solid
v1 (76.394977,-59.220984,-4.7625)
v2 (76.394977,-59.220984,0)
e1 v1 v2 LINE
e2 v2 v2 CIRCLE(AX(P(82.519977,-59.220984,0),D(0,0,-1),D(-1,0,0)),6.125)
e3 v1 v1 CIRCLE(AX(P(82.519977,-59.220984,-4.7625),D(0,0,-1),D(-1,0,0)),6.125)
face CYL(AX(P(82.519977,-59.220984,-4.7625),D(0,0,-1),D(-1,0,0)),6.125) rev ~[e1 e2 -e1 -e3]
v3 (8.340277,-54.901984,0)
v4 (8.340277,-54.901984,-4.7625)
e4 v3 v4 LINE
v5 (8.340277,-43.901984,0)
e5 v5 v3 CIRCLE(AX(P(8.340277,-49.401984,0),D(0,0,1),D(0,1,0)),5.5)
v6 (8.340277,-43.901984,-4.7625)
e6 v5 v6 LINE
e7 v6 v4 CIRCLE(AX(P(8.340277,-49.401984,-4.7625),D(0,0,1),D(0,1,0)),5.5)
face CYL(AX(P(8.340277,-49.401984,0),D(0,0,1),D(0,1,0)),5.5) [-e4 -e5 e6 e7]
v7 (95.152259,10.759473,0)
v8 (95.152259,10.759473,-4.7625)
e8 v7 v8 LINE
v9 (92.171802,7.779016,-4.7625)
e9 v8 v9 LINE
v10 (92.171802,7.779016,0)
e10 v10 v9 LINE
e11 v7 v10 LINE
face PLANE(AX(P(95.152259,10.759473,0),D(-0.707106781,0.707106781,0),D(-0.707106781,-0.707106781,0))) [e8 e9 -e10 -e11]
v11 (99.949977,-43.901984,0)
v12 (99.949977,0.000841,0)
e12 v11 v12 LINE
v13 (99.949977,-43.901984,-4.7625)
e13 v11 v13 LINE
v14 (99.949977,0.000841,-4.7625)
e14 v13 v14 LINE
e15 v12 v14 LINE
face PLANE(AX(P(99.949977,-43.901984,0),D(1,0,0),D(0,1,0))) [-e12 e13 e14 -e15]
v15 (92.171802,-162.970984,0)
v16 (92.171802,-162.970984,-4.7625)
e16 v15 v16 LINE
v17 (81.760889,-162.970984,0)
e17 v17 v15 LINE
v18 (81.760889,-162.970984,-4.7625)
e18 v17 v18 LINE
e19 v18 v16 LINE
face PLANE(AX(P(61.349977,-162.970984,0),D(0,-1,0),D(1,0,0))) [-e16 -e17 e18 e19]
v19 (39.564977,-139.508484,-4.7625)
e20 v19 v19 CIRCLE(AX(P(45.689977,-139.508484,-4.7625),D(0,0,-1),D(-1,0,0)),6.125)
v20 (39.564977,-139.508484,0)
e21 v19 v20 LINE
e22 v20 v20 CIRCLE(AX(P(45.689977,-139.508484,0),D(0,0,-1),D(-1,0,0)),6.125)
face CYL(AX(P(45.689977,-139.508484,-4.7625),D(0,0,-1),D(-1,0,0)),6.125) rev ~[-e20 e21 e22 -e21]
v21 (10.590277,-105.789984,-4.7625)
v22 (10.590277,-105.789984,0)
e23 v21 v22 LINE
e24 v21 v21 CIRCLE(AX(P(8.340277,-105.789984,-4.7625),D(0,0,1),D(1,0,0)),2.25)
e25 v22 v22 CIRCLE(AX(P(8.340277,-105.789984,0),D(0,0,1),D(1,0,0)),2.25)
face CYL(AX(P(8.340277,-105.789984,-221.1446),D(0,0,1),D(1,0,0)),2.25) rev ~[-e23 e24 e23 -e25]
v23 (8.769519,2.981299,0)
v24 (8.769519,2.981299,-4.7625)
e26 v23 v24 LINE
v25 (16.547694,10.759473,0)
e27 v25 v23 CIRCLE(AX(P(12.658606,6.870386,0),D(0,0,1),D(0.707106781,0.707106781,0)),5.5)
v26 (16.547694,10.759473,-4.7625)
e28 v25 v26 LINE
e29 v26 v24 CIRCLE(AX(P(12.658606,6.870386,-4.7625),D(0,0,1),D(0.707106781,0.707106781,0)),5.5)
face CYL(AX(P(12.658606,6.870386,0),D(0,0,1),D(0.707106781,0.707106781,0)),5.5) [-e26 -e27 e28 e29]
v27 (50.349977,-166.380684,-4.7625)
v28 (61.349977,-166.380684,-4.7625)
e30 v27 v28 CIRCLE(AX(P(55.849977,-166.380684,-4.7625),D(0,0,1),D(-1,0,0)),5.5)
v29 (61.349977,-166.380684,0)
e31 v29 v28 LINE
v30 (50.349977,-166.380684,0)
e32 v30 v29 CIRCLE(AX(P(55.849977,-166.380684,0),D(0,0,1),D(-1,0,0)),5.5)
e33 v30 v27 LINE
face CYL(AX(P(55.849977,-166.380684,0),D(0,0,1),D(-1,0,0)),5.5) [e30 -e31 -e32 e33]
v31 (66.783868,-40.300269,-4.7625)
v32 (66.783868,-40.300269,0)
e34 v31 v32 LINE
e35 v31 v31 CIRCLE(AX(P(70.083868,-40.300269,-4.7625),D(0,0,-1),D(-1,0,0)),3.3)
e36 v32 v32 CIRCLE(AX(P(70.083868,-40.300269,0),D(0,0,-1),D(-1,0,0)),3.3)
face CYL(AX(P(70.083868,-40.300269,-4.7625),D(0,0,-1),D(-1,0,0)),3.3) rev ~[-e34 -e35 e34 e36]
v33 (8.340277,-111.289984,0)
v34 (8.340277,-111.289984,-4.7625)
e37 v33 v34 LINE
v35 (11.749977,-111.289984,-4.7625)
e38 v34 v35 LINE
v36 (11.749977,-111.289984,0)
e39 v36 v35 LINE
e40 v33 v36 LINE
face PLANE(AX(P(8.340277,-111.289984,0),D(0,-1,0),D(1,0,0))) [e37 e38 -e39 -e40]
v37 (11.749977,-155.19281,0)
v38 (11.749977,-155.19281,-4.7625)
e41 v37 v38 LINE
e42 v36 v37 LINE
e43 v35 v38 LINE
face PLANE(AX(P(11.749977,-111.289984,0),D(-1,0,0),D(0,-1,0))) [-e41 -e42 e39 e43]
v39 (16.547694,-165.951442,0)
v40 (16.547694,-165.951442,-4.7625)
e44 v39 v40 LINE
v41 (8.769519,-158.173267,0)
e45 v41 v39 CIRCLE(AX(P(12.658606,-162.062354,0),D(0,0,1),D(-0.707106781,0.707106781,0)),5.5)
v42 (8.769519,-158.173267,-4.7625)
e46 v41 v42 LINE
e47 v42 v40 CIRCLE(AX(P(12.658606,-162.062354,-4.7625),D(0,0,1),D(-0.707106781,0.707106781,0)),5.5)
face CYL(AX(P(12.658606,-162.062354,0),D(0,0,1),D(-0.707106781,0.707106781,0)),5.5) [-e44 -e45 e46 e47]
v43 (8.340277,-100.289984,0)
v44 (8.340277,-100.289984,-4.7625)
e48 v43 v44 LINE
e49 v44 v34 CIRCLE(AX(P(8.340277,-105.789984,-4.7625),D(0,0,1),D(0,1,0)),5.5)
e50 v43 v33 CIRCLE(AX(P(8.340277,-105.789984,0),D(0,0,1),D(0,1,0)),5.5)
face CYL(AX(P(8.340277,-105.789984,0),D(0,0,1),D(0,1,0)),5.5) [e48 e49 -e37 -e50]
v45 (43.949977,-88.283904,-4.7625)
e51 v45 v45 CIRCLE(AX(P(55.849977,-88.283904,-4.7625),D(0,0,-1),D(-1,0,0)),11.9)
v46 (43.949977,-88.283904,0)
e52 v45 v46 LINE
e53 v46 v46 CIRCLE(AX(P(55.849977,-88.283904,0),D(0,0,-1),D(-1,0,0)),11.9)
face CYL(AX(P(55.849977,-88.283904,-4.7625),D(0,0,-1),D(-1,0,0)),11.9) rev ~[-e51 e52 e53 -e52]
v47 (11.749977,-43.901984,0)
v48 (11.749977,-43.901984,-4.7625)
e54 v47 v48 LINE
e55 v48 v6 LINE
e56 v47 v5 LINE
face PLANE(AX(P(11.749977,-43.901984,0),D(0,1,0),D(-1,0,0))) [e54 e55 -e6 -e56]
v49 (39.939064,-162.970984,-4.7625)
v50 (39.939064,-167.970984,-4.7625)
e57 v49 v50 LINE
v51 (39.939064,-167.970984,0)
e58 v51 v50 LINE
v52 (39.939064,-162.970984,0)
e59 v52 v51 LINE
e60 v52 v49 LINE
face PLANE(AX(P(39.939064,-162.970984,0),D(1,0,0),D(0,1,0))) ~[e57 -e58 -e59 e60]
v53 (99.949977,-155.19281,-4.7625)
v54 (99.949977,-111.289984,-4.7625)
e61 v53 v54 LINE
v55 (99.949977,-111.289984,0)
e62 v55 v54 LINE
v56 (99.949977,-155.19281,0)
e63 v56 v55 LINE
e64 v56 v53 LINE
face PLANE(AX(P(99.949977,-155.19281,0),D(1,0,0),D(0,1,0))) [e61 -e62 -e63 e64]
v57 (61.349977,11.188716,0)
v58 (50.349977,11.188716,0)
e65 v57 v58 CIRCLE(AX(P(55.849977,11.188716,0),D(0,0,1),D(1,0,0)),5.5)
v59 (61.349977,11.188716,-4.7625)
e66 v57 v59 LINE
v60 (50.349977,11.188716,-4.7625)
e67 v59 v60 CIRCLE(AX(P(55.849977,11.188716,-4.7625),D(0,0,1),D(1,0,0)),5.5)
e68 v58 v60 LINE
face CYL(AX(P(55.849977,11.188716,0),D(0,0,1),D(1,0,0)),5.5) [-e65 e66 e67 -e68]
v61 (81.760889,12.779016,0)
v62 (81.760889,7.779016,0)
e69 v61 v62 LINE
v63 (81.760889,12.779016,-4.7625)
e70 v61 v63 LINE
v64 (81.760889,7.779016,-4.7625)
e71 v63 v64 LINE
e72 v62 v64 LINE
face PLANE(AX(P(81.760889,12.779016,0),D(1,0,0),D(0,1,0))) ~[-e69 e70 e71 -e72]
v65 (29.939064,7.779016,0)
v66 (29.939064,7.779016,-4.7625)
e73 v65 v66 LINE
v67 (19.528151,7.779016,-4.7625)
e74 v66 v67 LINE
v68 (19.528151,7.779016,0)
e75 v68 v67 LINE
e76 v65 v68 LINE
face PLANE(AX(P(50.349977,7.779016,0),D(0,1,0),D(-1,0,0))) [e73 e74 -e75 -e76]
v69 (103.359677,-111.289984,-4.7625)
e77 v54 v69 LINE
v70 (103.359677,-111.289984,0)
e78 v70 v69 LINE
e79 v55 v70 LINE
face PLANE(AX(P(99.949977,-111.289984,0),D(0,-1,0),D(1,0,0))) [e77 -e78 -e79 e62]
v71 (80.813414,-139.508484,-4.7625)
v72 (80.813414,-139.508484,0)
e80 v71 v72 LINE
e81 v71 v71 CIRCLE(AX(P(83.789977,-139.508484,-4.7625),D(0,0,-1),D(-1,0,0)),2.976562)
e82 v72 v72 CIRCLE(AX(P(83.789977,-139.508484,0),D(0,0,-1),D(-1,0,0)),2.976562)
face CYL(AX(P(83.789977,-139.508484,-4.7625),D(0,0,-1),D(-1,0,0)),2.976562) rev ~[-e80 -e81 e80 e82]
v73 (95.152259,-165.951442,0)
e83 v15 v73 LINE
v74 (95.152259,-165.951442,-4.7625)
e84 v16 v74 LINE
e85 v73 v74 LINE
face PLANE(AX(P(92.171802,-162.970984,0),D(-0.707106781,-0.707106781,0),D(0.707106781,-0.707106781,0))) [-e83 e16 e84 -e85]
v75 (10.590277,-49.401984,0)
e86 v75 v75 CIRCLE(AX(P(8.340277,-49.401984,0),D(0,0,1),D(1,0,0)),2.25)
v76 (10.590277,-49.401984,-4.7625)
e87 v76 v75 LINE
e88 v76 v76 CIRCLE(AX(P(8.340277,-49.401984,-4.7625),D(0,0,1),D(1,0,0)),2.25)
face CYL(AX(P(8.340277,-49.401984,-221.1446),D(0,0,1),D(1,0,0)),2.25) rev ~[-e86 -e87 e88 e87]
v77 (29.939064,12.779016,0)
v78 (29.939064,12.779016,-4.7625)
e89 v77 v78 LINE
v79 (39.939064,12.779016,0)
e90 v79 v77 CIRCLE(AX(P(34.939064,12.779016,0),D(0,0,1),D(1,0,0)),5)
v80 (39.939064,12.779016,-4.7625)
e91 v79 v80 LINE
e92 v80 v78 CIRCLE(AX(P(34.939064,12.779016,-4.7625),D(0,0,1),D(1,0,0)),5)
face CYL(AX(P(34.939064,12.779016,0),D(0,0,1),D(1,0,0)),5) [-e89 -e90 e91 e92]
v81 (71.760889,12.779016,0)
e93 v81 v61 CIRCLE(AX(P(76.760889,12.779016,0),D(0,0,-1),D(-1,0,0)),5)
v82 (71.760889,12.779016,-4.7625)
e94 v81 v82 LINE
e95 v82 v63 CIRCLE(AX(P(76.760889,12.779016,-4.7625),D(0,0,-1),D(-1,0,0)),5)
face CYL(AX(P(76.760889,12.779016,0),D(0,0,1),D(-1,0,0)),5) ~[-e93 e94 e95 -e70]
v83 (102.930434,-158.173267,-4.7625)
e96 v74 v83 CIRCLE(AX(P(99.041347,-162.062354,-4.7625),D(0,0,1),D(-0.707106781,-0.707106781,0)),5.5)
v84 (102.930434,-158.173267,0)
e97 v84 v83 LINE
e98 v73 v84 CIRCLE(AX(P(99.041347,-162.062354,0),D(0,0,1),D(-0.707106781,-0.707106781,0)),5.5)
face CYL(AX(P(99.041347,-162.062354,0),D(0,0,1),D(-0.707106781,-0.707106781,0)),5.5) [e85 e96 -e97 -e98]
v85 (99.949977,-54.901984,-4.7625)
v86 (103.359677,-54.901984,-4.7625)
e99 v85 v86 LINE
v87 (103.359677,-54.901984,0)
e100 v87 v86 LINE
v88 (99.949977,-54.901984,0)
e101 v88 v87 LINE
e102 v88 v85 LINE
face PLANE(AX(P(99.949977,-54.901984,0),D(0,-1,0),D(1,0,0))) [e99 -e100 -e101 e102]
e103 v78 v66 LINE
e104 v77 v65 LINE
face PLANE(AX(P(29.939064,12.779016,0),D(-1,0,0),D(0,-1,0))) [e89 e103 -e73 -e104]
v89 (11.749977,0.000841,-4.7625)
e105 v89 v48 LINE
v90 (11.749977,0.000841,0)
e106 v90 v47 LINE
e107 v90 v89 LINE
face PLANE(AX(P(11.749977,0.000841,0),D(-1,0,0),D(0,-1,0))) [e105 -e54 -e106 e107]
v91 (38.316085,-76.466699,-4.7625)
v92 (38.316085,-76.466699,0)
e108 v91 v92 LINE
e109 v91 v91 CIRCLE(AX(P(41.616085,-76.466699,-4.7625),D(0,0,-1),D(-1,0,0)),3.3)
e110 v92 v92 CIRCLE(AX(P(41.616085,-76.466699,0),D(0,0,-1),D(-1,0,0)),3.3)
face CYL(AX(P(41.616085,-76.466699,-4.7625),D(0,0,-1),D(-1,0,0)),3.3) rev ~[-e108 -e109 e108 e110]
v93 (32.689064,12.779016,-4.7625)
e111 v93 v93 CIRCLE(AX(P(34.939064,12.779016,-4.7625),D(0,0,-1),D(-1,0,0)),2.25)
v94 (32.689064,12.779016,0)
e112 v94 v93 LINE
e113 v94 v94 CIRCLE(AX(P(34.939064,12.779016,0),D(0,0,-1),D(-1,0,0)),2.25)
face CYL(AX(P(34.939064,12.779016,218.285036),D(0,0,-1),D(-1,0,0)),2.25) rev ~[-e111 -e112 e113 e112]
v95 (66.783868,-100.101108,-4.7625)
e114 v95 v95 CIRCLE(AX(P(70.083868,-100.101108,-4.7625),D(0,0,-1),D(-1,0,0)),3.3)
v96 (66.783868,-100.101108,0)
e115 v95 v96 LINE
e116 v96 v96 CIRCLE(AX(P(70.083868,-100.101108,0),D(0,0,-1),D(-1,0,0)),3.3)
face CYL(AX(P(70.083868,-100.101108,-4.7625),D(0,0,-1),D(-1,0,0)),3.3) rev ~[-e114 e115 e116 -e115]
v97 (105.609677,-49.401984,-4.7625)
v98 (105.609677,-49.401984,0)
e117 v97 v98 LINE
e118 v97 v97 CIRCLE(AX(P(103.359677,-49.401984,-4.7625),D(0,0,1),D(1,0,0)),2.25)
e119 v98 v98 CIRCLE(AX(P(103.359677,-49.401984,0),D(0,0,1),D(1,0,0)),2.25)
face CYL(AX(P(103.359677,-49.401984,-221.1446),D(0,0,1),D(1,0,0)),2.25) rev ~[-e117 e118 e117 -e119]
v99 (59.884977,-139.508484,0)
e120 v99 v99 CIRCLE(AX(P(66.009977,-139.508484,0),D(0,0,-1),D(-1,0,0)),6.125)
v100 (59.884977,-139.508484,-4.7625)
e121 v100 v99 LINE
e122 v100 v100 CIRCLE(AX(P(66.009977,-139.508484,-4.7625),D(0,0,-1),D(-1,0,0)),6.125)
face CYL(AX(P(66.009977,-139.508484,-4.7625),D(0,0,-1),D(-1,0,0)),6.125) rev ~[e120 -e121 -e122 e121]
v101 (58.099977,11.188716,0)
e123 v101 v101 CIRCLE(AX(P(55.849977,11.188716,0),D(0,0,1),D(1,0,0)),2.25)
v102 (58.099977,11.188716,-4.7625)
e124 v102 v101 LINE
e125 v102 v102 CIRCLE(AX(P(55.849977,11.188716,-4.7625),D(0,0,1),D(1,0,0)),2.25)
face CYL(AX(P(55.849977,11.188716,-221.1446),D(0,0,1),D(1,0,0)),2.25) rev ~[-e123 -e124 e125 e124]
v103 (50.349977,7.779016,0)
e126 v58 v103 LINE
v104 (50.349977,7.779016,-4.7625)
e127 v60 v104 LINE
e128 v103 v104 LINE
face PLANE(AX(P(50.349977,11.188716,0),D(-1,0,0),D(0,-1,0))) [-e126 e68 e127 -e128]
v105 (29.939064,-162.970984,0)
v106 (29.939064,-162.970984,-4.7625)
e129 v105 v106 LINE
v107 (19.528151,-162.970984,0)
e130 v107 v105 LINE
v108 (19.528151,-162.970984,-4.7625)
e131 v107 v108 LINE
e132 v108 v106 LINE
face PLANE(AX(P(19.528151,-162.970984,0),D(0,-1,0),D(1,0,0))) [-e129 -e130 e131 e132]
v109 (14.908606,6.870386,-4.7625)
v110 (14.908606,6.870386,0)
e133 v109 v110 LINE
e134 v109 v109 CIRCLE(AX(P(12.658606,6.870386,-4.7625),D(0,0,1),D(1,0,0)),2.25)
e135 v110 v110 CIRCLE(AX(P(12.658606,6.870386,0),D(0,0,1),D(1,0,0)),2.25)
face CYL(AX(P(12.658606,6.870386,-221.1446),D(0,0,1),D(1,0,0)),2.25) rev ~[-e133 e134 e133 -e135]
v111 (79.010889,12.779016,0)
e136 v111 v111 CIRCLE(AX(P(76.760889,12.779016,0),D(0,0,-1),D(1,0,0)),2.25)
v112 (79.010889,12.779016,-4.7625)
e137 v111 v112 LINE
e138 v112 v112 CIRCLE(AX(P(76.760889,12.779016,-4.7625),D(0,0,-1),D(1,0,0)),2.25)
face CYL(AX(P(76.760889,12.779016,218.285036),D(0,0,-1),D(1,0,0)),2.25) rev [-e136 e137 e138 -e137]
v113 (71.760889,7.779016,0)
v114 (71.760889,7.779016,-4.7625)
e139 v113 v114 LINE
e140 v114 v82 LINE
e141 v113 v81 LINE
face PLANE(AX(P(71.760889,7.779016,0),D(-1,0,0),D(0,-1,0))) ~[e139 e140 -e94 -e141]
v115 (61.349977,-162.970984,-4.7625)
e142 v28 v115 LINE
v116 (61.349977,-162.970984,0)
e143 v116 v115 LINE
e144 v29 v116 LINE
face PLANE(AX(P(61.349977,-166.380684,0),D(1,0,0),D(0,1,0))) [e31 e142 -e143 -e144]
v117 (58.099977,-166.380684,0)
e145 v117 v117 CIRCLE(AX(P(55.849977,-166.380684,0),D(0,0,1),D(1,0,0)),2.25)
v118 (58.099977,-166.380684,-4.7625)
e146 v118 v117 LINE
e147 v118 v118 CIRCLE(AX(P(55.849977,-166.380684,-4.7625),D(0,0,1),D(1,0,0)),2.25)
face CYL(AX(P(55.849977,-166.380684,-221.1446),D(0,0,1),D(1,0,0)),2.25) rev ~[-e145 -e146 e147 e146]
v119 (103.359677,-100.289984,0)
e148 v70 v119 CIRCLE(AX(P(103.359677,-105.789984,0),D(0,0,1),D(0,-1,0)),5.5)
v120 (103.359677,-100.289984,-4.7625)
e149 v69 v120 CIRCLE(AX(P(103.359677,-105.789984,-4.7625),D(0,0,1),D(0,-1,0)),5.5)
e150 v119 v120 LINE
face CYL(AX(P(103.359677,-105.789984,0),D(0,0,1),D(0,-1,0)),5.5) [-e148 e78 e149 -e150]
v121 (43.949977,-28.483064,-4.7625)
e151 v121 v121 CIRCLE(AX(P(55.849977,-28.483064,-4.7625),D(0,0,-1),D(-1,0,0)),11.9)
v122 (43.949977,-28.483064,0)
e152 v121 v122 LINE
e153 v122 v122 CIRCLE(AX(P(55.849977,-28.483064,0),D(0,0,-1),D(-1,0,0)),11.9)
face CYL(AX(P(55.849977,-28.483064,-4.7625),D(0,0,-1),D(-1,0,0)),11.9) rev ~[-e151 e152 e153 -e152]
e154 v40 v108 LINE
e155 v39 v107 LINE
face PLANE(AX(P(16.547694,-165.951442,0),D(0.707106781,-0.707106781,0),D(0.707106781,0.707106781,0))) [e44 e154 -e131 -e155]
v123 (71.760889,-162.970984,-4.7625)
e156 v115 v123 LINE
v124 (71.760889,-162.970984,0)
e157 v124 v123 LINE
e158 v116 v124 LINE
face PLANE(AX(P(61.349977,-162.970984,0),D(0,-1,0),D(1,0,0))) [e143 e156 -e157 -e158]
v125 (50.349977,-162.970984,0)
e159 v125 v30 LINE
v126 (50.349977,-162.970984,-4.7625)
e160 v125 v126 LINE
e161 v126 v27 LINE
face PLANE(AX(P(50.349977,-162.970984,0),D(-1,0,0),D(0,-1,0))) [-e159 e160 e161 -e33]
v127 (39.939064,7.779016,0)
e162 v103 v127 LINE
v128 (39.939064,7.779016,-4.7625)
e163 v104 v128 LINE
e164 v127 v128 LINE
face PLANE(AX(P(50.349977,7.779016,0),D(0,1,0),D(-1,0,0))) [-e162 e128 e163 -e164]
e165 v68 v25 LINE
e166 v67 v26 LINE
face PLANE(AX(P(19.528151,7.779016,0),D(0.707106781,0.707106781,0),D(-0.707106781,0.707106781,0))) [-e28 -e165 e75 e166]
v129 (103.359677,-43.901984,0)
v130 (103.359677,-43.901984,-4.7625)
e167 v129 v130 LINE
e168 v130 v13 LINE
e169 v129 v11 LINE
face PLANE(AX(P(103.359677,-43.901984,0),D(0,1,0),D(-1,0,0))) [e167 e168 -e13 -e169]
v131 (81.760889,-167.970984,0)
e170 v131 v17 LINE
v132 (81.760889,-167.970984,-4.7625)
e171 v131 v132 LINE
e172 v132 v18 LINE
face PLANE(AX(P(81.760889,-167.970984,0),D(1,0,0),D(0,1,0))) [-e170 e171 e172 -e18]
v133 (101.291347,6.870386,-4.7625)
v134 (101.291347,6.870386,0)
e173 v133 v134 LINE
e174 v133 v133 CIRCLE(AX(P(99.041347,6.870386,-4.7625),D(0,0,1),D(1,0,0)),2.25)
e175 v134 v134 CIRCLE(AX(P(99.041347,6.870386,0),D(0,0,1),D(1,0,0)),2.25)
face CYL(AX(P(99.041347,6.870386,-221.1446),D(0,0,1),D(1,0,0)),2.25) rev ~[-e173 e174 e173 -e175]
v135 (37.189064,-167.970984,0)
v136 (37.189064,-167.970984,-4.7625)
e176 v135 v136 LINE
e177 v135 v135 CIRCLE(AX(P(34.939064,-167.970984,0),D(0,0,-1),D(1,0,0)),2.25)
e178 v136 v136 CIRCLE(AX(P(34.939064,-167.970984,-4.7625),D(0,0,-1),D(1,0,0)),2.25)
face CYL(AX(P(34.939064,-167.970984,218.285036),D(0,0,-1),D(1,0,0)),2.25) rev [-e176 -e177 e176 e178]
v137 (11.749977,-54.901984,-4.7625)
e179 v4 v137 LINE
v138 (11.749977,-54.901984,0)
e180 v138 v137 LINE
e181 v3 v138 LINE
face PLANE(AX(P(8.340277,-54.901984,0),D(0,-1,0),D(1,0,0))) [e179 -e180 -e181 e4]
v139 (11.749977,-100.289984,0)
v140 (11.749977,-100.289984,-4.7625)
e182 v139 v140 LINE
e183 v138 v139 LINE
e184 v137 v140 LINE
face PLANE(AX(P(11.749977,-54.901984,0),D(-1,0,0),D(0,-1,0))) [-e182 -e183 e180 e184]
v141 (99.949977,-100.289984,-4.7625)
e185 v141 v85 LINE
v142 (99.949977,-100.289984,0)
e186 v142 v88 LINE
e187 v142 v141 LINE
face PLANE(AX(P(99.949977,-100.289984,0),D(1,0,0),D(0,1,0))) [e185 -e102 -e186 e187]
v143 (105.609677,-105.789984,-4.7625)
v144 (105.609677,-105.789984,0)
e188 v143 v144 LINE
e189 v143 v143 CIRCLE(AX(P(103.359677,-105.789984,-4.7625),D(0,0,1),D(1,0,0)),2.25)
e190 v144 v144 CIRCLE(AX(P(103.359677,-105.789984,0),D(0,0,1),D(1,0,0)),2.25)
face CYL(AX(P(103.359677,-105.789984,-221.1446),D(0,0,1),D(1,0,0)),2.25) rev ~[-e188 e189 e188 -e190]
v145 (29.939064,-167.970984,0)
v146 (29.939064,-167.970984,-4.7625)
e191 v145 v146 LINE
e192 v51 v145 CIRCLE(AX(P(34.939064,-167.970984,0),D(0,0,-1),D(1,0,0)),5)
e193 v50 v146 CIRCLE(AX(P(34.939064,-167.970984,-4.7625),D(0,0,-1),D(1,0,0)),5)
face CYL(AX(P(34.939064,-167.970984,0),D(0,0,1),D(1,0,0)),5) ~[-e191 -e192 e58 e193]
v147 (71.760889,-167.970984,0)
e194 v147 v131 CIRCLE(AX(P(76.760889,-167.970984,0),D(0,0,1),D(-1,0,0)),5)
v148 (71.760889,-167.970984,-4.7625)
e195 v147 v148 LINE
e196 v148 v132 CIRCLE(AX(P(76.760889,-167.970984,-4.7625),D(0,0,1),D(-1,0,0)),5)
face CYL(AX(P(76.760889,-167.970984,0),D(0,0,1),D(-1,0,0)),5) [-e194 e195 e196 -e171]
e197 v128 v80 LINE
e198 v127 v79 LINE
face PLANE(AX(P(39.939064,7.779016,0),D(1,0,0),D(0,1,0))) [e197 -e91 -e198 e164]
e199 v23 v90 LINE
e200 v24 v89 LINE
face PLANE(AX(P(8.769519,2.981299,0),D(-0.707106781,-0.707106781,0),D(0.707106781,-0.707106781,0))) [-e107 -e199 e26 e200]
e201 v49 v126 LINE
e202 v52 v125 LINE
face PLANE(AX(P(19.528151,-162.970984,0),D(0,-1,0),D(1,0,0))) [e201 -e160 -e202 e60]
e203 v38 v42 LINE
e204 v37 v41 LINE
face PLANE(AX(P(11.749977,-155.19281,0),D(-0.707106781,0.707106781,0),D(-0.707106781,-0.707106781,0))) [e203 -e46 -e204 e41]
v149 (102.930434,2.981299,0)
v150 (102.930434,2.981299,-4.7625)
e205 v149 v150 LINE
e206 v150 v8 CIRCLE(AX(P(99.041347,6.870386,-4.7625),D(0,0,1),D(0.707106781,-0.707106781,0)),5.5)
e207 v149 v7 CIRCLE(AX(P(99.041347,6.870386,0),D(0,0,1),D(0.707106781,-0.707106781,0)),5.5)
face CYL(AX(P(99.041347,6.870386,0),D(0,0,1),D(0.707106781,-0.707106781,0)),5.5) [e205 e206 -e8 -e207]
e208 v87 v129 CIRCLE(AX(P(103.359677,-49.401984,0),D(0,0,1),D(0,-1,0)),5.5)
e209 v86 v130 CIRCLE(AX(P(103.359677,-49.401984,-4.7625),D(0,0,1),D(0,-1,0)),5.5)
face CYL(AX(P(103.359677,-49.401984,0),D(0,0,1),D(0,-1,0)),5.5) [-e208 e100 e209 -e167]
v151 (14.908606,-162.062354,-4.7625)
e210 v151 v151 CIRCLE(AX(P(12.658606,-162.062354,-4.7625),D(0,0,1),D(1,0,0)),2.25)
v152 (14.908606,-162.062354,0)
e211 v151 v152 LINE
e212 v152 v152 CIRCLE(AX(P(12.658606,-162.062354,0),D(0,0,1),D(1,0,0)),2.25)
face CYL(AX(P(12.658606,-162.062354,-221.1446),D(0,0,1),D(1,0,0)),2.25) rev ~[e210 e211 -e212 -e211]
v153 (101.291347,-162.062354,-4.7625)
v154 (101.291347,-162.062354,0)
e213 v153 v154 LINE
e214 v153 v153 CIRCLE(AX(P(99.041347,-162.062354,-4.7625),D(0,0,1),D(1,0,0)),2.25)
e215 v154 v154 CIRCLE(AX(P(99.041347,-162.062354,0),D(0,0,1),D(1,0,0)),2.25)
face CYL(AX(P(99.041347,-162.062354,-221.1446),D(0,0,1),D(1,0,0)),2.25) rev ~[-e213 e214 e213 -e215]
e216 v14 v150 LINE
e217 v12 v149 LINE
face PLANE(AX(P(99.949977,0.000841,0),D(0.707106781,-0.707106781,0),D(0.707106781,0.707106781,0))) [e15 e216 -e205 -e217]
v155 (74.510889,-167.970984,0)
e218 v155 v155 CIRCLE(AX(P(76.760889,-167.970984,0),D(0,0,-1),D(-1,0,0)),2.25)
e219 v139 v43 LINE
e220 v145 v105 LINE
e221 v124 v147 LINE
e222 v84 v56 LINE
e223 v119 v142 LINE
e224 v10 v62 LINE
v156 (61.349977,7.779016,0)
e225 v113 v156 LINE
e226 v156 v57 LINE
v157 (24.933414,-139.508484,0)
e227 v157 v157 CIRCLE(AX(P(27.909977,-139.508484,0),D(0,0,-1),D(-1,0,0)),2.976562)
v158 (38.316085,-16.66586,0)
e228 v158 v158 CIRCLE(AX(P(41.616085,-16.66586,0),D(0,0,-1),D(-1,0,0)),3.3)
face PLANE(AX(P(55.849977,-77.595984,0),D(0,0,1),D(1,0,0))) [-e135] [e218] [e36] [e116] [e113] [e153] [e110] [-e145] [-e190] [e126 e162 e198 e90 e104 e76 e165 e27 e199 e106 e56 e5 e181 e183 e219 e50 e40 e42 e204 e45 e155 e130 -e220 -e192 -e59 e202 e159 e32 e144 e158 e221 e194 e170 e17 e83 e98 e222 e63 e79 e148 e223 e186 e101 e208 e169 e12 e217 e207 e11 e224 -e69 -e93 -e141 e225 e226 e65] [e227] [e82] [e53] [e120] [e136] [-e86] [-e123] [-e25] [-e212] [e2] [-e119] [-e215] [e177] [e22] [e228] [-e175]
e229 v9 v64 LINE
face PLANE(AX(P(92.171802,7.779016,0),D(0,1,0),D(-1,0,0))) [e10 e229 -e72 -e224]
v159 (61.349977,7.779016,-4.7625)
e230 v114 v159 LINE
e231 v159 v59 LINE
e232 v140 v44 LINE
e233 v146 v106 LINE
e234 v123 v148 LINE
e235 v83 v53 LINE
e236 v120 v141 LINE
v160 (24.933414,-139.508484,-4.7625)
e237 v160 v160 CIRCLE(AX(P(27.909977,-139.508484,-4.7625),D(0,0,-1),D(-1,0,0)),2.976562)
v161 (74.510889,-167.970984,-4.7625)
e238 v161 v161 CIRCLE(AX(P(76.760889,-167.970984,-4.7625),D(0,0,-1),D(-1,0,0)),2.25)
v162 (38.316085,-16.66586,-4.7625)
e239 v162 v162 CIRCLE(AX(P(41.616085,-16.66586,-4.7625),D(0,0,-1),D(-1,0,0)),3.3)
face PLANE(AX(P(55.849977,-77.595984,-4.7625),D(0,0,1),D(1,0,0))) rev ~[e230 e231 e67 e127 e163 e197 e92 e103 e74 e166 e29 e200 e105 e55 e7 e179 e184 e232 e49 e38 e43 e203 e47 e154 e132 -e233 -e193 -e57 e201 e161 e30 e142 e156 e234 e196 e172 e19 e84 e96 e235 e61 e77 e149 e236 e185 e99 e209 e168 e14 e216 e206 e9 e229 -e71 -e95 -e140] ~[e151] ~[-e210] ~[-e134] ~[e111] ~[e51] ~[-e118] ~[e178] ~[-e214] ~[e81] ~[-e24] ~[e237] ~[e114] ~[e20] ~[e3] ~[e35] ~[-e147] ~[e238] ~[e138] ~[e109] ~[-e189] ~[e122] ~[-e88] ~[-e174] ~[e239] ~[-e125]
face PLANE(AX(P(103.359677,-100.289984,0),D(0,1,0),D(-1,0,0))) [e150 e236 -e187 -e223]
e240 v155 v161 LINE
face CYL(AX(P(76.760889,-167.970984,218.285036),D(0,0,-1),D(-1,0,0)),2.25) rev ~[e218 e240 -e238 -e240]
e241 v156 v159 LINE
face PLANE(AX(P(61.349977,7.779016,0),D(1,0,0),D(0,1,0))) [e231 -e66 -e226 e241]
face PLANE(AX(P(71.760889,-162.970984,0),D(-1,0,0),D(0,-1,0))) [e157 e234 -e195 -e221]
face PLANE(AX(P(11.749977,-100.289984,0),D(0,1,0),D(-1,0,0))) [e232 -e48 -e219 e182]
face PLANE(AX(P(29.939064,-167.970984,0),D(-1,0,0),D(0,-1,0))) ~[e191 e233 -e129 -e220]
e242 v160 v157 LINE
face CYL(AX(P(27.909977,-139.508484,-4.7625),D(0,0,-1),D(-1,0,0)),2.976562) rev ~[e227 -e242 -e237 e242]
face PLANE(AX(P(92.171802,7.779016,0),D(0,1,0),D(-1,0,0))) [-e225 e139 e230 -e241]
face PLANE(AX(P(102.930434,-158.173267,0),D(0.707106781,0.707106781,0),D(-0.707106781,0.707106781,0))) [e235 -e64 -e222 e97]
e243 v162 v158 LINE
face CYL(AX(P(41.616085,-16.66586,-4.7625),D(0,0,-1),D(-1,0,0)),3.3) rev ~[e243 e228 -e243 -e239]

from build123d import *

# Parameters (mm, degrees)
BOSS_EXTRUDE1_DEPTH  = 4.7625
M4_CLEARANCE_HOLE1_D = 4.5
SKETCH4_R            = 3.3
SKETCH4_R_2          = 2.9765625
SKETCH4_R_3          = 6.125
SKETCH4_R_4          = 11.9
CUT_EXTRUDE1_DEPTH   = 4.7625
BOSS_EXTRUDE3_DEPTH  = 4.7625
M4_CLEARANCE_HOLE2_D = 4.5


with BuildPart() as part:
    # Sketch1 → Boss-Extrude1 (new body)
    with BuildSketch(Plane.XY):
        with BuildLine():
            Line((50.349976536, 7.779015878), (19.528151129, 7.779015878))
            Line((19.528151129, 7.779015878), (16.547693582, 10.759473425))
            ThreePointArc((16.547693582, 10.759473425), (8.769518989, 10.759473425), (8.769518989, 2.981298831))
            Line((8.769518989, 2.981298831), (11.749976536, 0.000841285))
            Line((11.749976536, 0.000841285), (11.749976536, -43.901984122))
            Line((11.749976536, -43.901984122), (8.340276536, -43.901984122))
            ThreePointArc((8.340276536, -43.901984122), (2.840276536, -49.401984122), (8.340276536, -54.901984122))
            Line((8.340276536, -54.901984122), (11.749976536, -54.901984122))
            Line((11.749976536, -54.901984122), (11.749976536, -100.289984122))
            Line((11.749976536, -100.289984122), (8.340276536, -100.289984122))
            ThreePointArc((8.340276536, -100.289984122), (2.840276536, -105.789984122), (8.340276536, -111.289984122))
            Line((8.340276536, -111.289984122), (11.749976536, -111.289984122))
            Line((11.749976536, -111.289984122), (11.749976536, -155.192809529))
            Line((11.749976536, -155.192809529), (8.769518989, -158.173267075))
            ThreePointArc((8.769518989, -158.173267075), (8.769518989, -165.951441668), (16.547693582, -165.951441668))
            Line((16.547693582, -165.951441668), (19.528151129, -162.970984122))
            Line((19.528151129, -162.970984122), (50.349976536, -162.970984122))
            Line((50.349976536, -162.970984122), (50.349976536, -166.380684122))
            ThreePointArc((50.349976536, -166.380684122), (55.849976536, -171.880684122), (61.349976536, -166.380684122))
            Line((61.349976536, -166.380684122), (61.349976536, -162.970984122))
            Line((61.349976536, -162.970984122), (92.171801943, -162.970984122))
            Line((92.171801943, -162.970984122), (95.152259489, -165.951441668))
            ThreePointArc((95.152259489, -165.951441668), (102.930434082, -165.951441668), (102.930434082, -158.173267075))
            Line((102.930434082, -158.173267075), (99.949976536, -155.192809529))
            Line((99.949976536, -155.192809529), (99.949976536, -111.289984122))
            Line((99.949976536, -111.289984122), (103.359676536, -111.289984122))
            ThreePointArc((103.359676536, -111.289984122), (108.859676536, -105.789984122), (103.359676536, -100.289984122))
            Line((103.359676536, -100.289984122), (99.949976536, -100.289984122))
            Line((99.949976536, -100.289984122), (99.949976536, -54.901984122))
            Line((99.949976536, -54.901984122), (103.359676536, -54.901984122))
            ThreePointArc((103.359676536, -54.901984122), (108.859676536, -49.401984122), (103.359676536, -43.901984122))
            Line((103.359676536, -43.901984122), (99.949976536, -43.901984122))
            Line((99.949976536, -43.901984122), (99.949976536, 0.000841285))
            Line((99.949976536, 0.000841285), (102.930434082, 2.981298831))
            ThreePointArc((102.930434082, 2.981298831), (102.930434082, 10.759473425), (95.152259489, 10.759473425))
            Line((95.152259489, 10.759473425), (92.171801943, 7.779015878))
            Line((92.171801943, 7.779015878), (61.349976536, 7.779015878))
            Line((61.349976536, 7.779015878), (61.349976536, 11.188715878))
            ThreePointArc((61.349976536, 11.188715878), (55.849976536, 16.688715878), (50.349976536, 11.188715878))
            Line((50.349976536, 11.188715878), (50.349976536, 7.779015878))
        make_face()
    extrude(amount=-BOSS_EXTRUDE1_DEPTH)

    # M4 Clearance Hole1 (through all)
    with Locations(Plane(origin=(0, 0, -4.7625), x_dir=(-1, 0, 0), z_dir=(0, 0, -1))):
        with Locations((-12.658606286, -162.062354372), (-55.849976536, -166.380684122), (-99.041346785, -162.062354372), (-103.359676536, -105.789984122), (-103.359676536, -49.401984122), (-99.041346785, 6.870386128), (-12.658606286, 6.870386128), (-8.340276536, -49.401984122), (-8.340276536, -105.789984122), (-55.849976536, 11.188715878)):
            Hole(M4_CLEARANCE_HOLE1_D / 2)

    # Sketch4 → Cut-Extrude1 (cut)
    with BuildSketch(Plane(origin=(0, 0, -4.7625), x_dir=(-1, 0, 0), z_dir=(0, 0, -1))):
        with Locations((-41.616084767, -16.665859852)):
            Circle(SKETCH4_R)
        with Locations((-70.083868304, -40.3002691)):
            Circle(SKETCH4_R)
        with Locations((-27.909976536, -139.508484122)):
            Circle(SKETCH4_R_2)
        with Locations((-41.616084767, -76.466699143)):
            Circle(SKETCH4_R)
        with Locations((-83.789976536, -139.508484122)):
            Circle(SKETCH4_R_2)
        with Locations((-70.083868304, -100.101108391)):
            Circle(SKETCH4_R)
        with Locations((-66.009976536, -139.508484122)):
            Circle(SKETCH4_R_3)
        with Locations((-82.519976536, -59.220984122)):
            Circle(SKETCH4_R_3)
        with Locations((-45.689976536, -139.508484122)):
            Circle(SKETCH4_R_3)
        with Locations((-55.849976536, -88.283903767)):
            Circle(SKETCH4_R_4)
        with Locations((-55.849976536, -28.483064476)):
            Circle(SKETCH4_R_4)
    extrude(amount=-CUT_EXTRUDE1_DEPTH, mode=Mode.SUBTRACT)

    # Sketch6 → Boss-Extrude3 (add)
    with BuildSketch(Plane.XY):
        with BuildLine():
            Line((39.939063832, 7.779015878), (39.939063832, 12.779015878))
            ThreePointArc((39.939063832, 12.779015878), (34.939063832, 17.779015878), (29.939063832, 12.779015878))
            Line((29.939063832, 12.779015878), (29.939063832, 7.779015878))
            Line((29.939063832, 7.779015878), (39.939063832, 7.779015878))
        make_face()
        with BuildLine():
            Line((81.760889239, -162.970984122), (71.760889239, -162.970984122))
            Line((71.760889239, -162.970984122), (71.760889239, -167.970984122))
            ThreePointArc((71.760889239, -167.970984122), (76.760889239, -172.970984122), (81.760889239, -167.970984122))
            Line((81.760889239, -167.970984122), (81.760889239, -162.970984122))
        make_face()
    boss_extrude3 = extrude(amount=-BOSS_EXTRUDE3_DEPTH)

    # M4 Clearance Hole2 (through all)
    with Locations(Plane.XY):
        with Locations((34.939063832, 12.779015878), (76.760889239, -167.970984122)):
            m4_clearance_hole2 = Hole(M4_CLEARANCE_HOLE2_D / 2)

    # Mirror1: Boss-Extrude3, M4 Clearance Hole2 across plane
    add(boss_extrude3.mirror(Plane.ZY.offset(-55.849976536)))
    add(m4_clearance_hole2.mirror(Plane.ZY.offset(-55.849976536)), mode=Mode.SUBTRACT)


solid = part.part
